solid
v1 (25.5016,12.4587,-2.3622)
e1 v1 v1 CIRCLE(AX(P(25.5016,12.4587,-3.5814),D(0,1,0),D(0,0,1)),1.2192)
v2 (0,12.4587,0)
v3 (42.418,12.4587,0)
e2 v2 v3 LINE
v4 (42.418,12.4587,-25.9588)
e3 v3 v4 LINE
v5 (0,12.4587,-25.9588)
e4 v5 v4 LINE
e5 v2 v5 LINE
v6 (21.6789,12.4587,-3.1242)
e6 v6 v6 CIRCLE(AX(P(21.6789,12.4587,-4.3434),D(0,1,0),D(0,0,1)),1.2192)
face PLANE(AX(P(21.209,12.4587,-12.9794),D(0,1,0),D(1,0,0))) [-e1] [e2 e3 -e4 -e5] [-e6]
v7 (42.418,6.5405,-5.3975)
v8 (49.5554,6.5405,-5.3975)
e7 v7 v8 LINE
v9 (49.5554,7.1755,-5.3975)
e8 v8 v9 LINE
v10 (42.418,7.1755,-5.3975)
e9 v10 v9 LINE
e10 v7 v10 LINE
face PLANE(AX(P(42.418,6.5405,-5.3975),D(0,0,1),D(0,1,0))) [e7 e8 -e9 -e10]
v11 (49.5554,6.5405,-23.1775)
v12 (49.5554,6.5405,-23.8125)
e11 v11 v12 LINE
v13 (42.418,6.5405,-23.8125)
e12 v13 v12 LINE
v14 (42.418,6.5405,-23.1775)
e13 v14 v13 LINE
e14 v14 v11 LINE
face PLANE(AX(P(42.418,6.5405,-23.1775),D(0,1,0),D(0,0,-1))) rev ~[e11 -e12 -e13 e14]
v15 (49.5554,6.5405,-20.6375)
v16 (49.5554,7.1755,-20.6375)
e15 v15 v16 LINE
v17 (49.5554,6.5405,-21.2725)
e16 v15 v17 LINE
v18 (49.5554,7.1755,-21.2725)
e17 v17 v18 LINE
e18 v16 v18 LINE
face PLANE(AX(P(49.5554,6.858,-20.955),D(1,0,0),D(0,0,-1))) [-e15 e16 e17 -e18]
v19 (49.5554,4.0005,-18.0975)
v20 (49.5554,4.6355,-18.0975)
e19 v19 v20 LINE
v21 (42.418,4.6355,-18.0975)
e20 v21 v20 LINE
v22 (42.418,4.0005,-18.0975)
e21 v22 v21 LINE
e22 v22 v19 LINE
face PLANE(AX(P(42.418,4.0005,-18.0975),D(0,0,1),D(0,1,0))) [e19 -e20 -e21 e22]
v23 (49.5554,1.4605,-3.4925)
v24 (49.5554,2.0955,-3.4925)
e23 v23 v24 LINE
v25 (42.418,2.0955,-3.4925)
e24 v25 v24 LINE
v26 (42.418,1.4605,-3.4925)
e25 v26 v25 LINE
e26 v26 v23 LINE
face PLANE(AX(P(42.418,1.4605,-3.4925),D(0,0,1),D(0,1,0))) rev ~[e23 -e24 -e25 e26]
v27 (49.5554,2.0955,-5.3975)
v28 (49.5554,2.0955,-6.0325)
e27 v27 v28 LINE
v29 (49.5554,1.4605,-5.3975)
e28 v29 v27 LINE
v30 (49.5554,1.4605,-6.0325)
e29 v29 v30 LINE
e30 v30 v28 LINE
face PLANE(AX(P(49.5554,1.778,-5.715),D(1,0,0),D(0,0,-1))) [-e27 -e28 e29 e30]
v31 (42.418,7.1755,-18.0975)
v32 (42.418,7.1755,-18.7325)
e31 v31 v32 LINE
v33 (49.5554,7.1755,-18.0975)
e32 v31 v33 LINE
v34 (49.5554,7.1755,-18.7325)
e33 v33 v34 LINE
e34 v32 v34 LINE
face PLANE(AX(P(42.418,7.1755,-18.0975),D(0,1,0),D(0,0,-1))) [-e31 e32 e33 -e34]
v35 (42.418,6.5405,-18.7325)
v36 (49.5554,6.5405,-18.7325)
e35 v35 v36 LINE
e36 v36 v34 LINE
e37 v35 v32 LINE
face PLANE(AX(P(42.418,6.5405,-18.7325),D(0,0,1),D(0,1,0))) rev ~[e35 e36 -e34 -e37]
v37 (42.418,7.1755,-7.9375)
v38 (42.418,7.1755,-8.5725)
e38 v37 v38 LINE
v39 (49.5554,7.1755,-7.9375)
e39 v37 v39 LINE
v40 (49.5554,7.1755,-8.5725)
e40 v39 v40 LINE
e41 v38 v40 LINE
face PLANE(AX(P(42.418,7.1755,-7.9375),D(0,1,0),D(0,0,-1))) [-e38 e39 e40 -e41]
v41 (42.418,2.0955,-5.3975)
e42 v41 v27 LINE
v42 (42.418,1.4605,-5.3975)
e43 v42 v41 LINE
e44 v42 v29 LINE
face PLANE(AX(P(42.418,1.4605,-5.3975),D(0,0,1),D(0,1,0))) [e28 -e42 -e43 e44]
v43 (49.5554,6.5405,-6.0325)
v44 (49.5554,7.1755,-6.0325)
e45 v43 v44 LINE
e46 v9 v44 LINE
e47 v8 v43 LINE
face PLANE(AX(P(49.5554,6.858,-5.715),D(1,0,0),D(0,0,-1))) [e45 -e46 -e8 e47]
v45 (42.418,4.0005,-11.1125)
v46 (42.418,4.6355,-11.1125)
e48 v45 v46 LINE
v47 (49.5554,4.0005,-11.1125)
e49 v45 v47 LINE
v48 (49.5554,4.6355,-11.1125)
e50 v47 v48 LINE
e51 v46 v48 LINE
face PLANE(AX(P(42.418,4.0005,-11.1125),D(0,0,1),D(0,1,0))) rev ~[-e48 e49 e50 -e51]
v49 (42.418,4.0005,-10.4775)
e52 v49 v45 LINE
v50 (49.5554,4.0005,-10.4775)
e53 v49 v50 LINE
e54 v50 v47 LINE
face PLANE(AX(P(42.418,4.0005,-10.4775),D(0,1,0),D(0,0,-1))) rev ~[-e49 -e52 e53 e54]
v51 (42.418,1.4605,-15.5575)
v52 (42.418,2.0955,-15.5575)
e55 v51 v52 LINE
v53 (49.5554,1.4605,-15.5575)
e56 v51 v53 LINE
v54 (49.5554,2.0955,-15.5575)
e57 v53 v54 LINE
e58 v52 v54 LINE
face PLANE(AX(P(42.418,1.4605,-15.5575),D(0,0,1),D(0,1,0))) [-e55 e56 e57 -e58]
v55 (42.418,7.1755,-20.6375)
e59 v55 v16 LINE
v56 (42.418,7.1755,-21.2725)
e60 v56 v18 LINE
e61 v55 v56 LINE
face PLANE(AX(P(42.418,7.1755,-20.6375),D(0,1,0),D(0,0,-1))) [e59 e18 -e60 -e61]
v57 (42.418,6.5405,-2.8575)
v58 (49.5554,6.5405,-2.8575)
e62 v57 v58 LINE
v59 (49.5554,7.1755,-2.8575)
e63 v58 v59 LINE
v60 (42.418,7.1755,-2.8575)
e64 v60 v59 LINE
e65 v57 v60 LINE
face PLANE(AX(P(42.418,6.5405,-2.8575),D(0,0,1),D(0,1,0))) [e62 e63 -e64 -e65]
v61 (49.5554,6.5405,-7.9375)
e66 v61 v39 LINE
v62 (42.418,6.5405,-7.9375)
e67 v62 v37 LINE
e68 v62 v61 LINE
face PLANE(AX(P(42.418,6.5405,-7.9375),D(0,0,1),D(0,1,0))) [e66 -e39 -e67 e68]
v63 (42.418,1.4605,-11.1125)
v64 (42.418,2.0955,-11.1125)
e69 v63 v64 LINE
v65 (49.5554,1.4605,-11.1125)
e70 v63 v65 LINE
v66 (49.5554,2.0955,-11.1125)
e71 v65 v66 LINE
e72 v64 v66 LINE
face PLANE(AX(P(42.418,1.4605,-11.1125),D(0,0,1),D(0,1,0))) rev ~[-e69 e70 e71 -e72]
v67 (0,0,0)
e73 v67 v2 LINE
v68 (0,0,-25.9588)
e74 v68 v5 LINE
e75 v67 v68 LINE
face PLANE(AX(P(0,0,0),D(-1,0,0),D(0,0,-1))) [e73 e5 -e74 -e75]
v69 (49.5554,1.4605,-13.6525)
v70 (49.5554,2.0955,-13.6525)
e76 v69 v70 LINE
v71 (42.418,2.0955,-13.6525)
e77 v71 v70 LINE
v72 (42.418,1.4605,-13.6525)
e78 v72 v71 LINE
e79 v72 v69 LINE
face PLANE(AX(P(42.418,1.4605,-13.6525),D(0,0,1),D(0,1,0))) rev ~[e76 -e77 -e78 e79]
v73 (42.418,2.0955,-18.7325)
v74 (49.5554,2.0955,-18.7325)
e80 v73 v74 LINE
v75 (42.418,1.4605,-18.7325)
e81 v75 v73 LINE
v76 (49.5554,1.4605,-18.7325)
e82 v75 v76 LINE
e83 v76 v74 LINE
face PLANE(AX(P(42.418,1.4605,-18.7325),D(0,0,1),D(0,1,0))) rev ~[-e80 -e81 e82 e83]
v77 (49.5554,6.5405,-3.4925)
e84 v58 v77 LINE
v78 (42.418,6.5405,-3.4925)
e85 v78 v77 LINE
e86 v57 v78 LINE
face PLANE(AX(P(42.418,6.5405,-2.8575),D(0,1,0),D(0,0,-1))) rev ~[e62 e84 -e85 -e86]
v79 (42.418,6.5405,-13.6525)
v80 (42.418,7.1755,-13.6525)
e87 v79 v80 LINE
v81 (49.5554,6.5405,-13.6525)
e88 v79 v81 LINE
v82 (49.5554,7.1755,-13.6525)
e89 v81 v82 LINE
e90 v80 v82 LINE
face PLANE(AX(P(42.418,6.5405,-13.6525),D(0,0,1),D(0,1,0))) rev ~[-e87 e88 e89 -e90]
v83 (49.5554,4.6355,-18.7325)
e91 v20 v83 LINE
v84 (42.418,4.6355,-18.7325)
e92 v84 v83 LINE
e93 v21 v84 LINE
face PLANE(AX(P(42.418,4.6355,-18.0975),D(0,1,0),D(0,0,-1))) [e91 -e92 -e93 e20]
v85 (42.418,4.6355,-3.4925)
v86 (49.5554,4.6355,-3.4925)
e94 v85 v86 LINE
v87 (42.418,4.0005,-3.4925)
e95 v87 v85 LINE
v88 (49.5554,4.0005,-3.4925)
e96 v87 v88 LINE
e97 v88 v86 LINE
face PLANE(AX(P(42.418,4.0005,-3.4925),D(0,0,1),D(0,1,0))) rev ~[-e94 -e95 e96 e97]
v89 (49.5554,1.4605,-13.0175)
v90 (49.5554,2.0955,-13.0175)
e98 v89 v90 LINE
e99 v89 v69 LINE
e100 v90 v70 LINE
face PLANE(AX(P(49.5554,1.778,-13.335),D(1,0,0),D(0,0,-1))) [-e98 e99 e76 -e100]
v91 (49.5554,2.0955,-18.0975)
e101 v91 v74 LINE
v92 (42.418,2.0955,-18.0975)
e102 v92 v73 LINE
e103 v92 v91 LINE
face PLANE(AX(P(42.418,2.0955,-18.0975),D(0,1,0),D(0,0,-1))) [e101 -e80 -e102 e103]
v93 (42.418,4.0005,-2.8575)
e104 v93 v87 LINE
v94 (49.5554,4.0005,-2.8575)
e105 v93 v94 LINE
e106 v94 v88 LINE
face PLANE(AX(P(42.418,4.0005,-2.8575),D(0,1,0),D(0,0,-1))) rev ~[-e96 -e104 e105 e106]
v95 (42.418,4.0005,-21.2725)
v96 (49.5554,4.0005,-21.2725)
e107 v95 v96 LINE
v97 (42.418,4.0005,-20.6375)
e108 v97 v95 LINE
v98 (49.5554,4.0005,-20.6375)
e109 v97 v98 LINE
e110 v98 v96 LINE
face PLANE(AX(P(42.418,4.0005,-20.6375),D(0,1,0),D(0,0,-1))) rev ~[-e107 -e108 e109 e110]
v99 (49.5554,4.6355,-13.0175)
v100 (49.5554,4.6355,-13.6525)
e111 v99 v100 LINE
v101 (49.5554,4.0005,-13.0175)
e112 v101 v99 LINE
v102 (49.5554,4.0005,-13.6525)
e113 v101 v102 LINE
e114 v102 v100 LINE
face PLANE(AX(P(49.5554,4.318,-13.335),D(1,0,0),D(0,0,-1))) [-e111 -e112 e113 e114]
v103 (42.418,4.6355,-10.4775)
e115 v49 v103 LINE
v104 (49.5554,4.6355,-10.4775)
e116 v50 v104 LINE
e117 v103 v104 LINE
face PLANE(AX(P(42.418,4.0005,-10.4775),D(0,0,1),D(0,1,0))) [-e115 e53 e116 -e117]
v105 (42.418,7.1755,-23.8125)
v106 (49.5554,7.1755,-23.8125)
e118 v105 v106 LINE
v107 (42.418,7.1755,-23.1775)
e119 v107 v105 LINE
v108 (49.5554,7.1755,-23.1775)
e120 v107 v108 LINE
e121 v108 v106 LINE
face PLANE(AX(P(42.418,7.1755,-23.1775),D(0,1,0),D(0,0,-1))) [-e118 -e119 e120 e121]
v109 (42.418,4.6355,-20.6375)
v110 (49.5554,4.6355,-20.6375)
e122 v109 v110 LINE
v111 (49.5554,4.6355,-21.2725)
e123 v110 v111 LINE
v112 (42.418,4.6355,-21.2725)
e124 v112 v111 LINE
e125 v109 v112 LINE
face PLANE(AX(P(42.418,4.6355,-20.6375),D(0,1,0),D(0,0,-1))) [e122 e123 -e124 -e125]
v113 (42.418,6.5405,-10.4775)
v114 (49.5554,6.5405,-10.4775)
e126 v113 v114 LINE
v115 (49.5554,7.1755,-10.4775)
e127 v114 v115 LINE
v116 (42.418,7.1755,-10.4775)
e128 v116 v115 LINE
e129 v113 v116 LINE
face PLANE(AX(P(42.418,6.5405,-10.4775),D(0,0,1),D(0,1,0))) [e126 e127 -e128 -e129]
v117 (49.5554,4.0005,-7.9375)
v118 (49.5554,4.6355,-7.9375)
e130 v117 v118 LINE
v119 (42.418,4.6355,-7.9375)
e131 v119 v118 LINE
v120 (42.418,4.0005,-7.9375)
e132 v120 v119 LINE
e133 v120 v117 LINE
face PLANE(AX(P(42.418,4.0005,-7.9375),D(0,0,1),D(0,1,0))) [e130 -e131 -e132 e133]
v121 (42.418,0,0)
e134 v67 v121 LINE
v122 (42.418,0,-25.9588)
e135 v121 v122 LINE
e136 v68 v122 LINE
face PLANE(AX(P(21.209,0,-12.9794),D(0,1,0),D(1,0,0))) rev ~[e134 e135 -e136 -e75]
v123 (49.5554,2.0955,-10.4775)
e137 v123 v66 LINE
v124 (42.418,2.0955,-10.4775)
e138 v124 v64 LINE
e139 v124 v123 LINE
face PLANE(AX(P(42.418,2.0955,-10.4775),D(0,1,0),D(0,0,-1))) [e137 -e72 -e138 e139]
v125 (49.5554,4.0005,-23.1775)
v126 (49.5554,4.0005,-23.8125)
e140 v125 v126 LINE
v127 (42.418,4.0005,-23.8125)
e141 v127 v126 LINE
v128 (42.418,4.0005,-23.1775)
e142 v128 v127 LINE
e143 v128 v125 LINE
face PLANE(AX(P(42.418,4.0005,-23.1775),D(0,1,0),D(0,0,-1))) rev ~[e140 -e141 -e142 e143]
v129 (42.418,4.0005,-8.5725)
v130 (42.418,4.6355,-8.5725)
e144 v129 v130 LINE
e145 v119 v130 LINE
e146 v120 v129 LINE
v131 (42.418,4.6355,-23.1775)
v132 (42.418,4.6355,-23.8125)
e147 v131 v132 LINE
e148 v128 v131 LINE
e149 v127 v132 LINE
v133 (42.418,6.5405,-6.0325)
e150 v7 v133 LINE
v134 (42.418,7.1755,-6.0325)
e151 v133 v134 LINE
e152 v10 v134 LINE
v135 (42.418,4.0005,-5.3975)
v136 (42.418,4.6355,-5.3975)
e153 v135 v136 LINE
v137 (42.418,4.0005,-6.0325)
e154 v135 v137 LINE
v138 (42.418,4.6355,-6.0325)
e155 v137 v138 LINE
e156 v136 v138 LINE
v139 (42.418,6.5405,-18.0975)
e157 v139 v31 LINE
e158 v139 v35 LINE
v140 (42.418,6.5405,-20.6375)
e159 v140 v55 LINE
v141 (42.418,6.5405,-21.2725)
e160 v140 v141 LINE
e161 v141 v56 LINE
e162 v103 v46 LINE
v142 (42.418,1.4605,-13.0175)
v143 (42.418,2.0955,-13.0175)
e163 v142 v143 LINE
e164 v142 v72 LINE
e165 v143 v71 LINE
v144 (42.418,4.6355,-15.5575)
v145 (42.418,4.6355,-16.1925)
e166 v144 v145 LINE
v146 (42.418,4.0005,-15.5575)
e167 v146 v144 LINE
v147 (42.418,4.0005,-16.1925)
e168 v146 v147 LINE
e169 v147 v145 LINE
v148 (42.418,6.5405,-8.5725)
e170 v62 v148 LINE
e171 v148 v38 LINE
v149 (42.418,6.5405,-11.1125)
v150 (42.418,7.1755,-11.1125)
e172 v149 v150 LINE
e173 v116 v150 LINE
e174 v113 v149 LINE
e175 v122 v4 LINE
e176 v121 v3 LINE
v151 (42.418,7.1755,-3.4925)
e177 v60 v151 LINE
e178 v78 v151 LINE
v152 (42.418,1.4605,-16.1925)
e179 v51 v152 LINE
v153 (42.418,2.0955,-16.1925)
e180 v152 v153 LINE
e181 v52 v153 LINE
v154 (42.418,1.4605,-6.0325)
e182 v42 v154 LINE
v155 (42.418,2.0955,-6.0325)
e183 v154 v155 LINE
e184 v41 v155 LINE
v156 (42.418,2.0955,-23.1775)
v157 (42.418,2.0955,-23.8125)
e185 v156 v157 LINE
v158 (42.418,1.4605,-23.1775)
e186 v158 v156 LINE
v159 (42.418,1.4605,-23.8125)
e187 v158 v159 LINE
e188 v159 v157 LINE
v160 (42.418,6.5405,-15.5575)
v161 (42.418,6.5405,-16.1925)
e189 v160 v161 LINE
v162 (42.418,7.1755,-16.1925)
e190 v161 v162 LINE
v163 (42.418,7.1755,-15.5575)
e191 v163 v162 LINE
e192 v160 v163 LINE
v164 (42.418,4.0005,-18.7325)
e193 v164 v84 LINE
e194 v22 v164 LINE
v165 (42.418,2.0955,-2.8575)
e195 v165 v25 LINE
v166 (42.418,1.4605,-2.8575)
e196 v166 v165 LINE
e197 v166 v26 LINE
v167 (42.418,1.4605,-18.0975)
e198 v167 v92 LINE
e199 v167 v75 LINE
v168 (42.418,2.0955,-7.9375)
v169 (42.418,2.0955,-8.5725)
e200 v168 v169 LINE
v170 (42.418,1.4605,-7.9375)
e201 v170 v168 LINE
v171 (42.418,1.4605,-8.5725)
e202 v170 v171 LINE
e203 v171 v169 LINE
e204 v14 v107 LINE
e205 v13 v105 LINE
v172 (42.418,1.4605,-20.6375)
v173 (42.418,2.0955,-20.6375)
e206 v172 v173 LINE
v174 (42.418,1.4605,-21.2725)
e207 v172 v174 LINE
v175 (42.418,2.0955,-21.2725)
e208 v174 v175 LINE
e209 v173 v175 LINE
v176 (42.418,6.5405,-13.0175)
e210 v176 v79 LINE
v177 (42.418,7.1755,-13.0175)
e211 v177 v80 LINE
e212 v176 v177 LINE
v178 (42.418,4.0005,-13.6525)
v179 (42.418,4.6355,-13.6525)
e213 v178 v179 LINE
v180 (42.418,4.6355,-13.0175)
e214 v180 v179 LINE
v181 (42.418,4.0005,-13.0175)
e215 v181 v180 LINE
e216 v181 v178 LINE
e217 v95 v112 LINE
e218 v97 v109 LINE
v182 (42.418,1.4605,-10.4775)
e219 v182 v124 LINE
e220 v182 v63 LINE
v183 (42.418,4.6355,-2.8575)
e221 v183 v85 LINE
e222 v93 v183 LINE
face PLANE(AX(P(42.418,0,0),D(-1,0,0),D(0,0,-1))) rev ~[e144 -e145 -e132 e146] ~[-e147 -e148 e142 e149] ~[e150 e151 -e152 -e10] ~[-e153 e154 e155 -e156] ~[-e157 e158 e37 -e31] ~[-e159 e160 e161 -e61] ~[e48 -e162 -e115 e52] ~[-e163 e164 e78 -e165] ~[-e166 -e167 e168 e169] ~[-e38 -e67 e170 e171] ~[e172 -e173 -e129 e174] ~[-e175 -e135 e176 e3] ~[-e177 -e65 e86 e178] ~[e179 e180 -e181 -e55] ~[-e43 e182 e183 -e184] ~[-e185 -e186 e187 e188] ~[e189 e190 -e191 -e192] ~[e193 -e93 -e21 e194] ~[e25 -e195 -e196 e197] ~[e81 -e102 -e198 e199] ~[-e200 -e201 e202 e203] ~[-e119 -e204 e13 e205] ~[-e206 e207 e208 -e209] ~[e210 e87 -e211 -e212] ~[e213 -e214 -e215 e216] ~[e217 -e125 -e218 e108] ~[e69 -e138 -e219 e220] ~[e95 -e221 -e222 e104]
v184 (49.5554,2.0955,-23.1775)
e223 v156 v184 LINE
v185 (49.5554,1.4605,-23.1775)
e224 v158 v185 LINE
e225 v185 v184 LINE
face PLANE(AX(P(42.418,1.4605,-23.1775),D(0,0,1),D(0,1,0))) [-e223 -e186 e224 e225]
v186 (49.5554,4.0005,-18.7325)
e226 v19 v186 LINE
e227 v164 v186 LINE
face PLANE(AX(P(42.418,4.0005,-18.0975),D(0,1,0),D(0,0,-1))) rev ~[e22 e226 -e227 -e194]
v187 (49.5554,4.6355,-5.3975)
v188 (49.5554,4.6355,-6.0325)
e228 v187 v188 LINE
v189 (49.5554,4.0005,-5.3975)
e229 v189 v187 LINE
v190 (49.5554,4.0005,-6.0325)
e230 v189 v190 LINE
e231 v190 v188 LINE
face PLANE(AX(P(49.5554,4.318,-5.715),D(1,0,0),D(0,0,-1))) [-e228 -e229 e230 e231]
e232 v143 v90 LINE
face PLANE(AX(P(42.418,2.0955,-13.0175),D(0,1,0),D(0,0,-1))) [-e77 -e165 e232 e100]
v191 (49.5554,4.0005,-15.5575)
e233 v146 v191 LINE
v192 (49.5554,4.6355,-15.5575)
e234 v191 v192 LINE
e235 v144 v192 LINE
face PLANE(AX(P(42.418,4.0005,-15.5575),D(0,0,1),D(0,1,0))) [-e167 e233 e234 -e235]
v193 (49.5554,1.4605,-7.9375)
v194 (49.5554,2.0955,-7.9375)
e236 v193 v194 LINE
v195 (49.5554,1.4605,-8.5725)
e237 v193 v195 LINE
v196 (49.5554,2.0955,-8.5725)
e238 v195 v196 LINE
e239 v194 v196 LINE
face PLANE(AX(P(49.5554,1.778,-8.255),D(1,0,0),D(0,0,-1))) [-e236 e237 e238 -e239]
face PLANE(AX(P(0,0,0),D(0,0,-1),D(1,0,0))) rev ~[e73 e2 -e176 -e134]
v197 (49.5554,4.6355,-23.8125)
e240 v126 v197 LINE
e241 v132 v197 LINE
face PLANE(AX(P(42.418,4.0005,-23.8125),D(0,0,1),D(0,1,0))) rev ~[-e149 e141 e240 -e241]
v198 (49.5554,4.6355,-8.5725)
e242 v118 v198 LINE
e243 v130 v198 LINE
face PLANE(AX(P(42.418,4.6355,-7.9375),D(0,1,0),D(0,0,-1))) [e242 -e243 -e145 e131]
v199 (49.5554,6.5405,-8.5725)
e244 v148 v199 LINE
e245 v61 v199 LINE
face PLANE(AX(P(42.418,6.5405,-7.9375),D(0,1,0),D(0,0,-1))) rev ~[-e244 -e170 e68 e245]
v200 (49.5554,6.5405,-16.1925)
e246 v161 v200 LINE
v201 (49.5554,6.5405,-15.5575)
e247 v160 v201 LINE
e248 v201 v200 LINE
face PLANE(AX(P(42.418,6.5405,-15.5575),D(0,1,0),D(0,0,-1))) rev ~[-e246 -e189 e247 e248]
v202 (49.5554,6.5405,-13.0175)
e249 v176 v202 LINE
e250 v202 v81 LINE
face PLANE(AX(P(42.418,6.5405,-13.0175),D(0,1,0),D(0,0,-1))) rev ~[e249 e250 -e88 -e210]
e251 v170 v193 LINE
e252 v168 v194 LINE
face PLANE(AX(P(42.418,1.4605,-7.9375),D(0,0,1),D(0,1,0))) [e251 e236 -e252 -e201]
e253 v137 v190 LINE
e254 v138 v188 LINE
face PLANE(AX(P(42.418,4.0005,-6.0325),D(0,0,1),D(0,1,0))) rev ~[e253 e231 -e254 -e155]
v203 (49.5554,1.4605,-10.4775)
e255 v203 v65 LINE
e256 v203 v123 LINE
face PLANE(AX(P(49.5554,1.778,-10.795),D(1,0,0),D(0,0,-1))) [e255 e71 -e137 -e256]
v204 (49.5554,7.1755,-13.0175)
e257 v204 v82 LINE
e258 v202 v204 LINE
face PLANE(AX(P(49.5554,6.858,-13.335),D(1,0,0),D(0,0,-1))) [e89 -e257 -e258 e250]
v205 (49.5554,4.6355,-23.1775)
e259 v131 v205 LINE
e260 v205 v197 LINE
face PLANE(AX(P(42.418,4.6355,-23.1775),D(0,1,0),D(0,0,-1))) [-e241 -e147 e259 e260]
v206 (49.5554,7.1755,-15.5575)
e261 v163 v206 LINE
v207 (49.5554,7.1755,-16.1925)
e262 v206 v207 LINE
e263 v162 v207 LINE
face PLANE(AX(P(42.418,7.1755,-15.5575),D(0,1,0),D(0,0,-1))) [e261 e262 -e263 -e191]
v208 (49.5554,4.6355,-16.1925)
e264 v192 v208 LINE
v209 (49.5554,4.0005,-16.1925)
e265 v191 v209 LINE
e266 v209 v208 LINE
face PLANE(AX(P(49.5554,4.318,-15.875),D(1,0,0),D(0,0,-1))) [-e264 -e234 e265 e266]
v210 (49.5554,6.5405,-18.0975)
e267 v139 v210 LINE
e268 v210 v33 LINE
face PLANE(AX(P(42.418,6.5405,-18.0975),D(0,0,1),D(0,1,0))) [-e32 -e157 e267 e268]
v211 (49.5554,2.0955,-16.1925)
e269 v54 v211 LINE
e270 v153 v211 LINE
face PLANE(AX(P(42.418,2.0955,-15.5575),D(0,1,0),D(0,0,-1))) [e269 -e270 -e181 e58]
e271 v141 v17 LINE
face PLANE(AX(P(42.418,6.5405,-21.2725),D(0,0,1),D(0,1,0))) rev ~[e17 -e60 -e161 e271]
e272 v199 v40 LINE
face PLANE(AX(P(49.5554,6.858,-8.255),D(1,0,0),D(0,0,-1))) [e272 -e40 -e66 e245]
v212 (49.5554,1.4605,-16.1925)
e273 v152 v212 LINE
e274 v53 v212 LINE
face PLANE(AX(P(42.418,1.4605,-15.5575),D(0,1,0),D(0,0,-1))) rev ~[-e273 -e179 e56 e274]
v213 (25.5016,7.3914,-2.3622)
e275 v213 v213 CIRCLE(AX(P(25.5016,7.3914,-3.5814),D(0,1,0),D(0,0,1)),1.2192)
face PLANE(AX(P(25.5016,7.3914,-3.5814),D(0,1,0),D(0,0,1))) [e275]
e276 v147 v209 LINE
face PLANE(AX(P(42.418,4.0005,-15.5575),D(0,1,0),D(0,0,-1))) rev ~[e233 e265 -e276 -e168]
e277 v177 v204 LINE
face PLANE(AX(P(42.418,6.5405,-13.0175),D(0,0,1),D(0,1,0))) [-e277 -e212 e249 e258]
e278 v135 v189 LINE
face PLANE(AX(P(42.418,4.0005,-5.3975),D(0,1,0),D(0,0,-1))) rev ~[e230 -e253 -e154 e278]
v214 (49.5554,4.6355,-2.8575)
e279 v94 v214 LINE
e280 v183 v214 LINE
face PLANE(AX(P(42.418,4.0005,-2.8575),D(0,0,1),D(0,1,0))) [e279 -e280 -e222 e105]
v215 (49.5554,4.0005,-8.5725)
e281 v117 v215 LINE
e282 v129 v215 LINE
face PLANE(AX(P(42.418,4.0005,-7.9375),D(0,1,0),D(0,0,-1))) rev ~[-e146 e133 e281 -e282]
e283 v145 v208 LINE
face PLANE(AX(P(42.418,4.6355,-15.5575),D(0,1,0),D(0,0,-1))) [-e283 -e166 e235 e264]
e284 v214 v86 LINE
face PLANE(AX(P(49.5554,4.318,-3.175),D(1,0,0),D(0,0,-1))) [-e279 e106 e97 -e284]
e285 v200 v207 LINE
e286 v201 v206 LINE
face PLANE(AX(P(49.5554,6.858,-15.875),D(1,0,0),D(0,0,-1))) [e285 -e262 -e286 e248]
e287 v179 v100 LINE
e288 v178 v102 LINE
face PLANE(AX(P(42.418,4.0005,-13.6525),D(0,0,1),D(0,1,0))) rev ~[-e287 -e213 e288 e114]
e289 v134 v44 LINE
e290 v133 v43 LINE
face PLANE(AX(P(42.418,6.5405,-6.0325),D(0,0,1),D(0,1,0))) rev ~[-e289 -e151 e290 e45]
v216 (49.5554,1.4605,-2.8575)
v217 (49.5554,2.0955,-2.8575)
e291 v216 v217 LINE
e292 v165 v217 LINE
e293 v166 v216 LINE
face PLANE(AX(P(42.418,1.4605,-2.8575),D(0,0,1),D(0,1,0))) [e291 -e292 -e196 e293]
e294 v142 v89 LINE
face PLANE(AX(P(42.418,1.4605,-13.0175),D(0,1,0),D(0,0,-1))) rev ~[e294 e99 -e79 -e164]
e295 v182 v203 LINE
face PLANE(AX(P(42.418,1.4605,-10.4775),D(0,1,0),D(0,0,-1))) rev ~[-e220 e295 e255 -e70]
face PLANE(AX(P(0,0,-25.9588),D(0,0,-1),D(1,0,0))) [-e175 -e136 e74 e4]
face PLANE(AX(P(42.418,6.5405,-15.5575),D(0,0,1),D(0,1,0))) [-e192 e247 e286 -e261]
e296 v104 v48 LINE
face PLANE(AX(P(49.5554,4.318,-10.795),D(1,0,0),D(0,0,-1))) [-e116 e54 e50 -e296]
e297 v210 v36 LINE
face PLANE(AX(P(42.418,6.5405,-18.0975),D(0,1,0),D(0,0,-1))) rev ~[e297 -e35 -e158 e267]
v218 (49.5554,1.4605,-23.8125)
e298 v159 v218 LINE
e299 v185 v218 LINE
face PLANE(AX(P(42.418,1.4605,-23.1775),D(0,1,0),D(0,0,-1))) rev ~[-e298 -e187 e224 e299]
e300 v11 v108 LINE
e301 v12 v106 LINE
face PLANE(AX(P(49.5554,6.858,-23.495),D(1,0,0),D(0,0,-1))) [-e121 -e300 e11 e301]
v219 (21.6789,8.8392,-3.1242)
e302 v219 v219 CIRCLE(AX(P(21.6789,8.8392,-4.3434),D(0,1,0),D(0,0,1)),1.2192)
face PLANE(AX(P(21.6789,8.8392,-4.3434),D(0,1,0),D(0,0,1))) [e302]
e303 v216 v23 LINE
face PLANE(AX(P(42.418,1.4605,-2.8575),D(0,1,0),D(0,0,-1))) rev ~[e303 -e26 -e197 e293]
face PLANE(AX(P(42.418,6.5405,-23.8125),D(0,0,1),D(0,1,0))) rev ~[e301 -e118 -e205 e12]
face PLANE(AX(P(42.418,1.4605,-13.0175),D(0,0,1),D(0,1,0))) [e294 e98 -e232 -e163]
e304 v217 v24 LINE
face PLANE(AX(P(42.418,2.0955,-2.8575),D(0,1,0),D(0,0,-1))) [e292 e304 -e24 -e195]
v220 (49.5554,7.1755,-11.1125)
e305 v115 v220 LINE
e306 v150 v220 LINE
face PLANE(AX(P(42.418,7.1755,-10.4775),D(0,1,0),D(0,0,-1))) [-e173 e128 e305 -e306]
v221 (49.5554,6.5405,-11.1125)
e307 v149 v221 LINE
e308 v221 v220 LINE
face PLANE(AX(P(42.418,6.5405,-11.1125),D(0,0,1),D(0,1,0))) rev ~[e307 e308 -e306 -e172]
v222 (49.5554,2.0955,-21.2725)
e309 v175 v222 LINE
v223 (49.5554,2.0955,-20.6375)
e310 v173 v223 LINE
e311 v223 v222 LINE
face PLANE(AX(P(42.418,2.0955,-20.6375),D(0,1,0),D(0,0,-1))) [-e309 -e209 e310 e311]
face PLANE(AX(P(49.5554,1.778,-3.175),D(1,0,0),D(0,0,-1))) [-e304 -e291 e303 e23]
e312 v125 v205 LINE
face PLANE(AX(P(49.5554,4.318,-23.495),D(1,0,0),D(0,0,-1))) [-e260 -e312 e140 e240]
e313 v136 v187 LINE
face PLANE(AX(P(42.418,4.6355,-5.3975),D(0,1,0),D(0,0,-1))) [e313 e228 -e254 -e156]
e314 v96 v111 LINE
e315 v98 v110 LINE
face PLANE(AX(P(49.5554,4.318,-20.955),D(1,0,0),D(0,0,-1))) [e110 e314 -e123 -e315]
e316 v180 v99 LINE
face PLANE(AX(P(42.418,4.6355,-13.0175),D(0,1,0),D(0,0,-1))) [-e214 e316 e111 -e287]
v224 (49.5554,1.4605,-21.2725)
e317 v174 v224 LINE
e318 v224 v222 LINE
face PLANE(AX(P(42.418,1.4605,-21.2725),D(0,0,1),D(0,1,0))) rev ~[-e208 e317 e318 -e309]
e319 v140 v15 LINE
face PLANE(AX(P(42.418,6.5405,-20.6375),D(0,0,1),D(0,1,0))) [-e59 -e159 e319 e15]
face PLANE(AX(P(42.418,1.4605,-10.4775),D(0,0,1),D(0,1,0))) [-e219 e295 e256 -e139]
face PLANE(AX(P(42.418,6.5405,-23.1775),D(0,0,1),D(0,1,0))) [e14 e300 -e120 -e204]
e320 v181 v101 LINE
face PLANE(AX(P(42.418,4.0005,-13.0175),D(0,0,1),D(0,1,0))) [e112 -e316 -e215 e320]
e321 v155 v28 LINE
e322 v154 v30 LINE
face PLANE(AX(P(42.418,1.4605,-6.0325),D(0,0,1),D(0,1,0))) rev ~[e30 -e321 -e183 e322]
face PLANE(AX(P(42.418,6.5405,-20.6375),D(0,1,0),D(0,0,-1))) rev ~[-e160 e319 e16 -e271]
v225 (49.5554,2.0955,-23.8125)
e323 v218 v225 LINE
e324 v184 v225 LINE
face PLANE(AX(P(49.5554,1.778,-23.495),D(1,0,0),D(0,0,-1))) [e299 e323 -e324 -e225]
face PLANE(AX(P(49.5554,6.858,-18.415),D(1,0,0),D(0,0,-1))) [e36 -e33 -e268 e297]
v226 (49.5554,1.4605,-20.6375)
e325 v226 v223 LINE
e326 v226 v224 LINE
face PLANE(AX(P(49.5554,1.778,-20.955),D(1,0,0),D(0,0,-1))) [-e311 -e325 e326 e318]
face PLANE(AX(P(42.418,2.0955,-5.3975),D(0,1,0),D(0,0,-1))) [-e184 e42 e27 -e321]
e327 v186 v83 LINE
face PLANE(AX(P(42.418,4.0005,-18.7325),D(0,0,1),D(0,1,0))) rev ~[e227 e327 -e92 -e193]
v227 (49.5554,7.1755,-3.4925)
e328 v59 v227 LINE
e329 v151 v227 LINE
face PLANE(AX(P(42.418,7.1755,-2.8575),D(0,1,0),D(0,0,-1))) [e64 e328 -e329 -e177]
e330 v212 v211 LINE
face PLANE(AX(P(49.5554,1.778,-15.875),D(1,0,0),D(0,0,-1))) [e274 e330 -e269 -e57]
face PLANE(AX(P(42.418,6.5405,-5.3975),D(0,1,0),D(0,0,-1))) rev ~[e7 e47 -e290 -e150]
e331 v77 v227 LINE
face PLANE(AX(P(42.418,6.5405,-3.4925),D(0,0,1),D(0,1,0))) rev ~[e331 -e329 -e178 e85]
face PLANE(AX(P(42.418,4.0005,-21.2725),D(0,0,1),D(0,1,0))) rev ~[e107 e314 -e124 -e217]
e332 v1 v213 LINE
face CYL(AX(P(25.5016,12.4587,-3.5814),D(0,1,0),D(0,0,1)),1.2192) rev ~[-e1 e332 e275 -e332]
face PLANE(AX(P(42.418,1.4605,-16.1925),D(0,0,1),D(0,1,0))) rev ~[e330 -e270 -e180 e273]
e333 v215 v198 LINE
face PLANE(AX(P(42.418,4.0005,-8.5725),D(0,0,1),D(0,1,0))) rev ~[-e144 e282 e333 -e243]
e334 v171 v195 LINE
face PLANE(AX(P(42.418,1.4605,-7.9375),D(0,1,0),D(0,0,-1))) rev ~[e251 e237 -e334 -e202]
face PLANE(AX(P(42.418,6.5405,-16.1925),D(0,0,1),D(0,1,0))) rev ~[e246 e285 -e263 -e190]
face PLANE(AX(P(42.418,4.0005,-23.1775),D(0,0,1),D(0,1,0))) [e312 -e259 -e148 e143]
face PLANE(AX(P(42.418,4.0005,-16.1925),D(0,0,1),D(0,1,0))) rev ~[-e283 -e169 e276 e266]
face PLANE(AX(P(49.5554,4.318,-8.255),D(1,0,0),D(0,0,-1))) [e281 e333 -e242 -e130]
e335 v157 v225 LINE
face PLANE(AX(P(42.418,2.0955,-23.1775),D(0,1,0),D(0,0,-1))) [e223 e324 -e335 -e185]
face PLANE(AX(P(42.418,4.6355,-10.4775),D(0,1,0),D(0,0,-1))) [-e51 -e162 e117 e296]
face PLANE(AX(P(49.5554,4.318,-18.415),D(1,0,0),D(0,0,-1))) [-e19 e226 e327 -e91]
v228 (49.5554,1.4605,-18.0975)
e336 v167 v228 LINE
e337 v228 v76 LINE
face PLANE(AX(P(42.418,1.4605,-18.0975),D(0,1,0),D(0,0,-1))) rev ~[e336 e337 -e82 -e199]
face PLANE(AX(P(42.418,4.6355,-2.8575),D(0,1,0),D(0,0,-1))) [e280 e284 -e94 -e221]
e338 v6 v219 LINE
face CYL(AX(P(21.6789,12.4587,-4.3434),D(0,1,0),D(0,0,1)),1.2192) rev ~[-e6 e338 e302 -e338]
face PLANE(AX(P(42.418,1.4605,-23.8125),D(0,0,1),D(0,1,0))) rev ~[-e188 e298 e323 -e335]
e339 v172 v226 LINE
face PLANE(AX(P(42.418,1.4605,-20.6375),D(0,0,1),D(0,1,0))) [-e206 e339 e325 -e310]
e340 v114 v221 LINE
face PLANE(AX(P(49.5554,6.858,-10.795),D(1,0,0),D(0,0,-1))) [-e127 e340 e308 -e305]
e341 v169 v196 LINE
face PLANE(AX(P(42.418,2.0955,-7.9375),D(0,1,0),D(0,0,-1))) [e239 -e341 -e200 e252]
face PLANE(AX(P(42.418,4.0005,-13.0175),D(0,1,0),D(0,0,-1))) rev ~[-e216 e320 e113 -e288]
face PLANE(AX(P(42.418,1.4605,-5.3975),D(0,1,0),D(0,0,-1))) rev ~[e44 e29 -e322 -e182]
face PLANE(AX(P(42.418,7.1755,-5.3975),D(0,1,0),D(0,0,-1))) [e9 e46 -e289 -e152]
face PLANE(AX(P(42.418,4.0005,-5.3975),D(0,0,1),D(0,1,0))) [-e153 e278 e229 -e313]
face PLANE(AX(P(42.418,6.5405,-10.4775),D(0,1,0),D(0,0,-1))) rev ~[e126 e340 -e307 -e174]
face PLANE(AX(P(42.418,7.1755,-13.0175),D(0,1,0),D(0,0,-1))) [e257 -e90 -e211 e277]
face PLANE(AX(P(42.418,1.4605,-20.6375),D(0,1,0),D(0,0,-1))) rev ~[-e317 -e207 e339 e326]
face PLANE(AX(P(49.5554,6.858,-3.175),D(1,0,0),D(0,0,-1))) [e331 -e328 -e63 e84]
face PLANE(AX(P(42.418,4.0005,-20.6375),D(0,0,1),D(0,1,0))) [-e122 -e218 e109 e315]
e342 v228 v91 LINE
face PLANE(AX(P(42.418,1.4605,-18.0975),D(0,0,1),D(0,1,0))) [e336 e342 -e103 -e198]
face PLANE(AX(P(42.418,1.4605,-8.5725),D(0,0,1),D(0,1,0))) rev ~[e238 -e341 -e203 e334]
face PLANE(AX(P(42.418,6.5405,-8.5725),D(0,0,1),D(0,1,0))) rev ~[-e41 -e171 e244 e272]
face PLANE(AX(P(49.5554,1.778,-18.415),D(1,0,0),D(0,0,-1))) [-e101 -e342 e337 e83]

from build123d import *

# Parameters (mm, degrees)
SKETCH1_W          = 42.418
SKETCH1_H          = 25.9588
CASING_DEPTH       = 12.4587
SKETCH2_W          = 0.635
SKETCH2_H          = 0.635
PINS_DEPTH         = 7.1374
PINS_PATTERN_COUNT = 9
PINS_PATTERN_PITCH = 2.54
SKETCH3_R          = 1.2192
LED_DEPTH          = 5.0673
SKETCH4_R          = 1.2192
SCAN_BUTTON_DEPTH  = 3.6195


with BuildPart() as part:
    # Sketch1 → Casing (new body)
    with BuildSketch(Plane(origin=(0, 0, 0), x_dir=(1, 0, 0), z_dir=(0, 1, 0))):
        with Locations((21.209, 12.9794)):
            Rectangle(SKETCH1_W, SKETCH1_H)
    extrude(amount=CASING_DEPTH)

    # Sketch2 → Pins (add)
    with BuildSketch(Plane(origin=(42.418, 0, 0), x_dir=(0, 0, -1), z_dir=(1, 0, 0))):
        with Locations((23.495, 6.858)):
            Rectangle(SKETCH2_W, SKETCH2_H)
        with Locations((23.495, 4.318)):
            Rectangle(SKETCH2_W, SKETCH2_H)
        with Locations((23.495, 1.778)):
            Rectangle(SKETCH2_W, SKETCH2_H)
    pins = extrude(amount=PINS_DEPTH)

    # Pins pattern: Pins ×9
    with Locations(*[(0, 0, i * PINS_PATTERN_PITCH) for i in range(1, PINS_PATTERN_COUNT)]):
        add(pins)

    # Sketch3 → LED (cut)
    with BuildSketch(Plane(origin=(0, 12.4587, 0), x_dir=(1, 0, 0), z_dir=(0, 1, 0))):
        with Locations(Location((25.5016, 3.5814, 0), (0, 0, 270))):
            Circle(SKETCH3_R)
    extrude(amount=-LED_DEPTH, mode=Mode.SUBTRACT)

    # Sketch4 → Scan button (cut)
    with BuildSketch(Plane(origin=(0, 12.4587, 0), x_dir=(1, 0, 0), z_dir=(0, 1, 0))):
        with Locations(Location((21.6789, 4.3434, 0), (0, 0, 270))):
            Circle(SKETCH4_R)
    extrude(amount=-SCAN_BUTTON_DEPTH, mode=Mode.SUBTRACT)


solid = part.part
